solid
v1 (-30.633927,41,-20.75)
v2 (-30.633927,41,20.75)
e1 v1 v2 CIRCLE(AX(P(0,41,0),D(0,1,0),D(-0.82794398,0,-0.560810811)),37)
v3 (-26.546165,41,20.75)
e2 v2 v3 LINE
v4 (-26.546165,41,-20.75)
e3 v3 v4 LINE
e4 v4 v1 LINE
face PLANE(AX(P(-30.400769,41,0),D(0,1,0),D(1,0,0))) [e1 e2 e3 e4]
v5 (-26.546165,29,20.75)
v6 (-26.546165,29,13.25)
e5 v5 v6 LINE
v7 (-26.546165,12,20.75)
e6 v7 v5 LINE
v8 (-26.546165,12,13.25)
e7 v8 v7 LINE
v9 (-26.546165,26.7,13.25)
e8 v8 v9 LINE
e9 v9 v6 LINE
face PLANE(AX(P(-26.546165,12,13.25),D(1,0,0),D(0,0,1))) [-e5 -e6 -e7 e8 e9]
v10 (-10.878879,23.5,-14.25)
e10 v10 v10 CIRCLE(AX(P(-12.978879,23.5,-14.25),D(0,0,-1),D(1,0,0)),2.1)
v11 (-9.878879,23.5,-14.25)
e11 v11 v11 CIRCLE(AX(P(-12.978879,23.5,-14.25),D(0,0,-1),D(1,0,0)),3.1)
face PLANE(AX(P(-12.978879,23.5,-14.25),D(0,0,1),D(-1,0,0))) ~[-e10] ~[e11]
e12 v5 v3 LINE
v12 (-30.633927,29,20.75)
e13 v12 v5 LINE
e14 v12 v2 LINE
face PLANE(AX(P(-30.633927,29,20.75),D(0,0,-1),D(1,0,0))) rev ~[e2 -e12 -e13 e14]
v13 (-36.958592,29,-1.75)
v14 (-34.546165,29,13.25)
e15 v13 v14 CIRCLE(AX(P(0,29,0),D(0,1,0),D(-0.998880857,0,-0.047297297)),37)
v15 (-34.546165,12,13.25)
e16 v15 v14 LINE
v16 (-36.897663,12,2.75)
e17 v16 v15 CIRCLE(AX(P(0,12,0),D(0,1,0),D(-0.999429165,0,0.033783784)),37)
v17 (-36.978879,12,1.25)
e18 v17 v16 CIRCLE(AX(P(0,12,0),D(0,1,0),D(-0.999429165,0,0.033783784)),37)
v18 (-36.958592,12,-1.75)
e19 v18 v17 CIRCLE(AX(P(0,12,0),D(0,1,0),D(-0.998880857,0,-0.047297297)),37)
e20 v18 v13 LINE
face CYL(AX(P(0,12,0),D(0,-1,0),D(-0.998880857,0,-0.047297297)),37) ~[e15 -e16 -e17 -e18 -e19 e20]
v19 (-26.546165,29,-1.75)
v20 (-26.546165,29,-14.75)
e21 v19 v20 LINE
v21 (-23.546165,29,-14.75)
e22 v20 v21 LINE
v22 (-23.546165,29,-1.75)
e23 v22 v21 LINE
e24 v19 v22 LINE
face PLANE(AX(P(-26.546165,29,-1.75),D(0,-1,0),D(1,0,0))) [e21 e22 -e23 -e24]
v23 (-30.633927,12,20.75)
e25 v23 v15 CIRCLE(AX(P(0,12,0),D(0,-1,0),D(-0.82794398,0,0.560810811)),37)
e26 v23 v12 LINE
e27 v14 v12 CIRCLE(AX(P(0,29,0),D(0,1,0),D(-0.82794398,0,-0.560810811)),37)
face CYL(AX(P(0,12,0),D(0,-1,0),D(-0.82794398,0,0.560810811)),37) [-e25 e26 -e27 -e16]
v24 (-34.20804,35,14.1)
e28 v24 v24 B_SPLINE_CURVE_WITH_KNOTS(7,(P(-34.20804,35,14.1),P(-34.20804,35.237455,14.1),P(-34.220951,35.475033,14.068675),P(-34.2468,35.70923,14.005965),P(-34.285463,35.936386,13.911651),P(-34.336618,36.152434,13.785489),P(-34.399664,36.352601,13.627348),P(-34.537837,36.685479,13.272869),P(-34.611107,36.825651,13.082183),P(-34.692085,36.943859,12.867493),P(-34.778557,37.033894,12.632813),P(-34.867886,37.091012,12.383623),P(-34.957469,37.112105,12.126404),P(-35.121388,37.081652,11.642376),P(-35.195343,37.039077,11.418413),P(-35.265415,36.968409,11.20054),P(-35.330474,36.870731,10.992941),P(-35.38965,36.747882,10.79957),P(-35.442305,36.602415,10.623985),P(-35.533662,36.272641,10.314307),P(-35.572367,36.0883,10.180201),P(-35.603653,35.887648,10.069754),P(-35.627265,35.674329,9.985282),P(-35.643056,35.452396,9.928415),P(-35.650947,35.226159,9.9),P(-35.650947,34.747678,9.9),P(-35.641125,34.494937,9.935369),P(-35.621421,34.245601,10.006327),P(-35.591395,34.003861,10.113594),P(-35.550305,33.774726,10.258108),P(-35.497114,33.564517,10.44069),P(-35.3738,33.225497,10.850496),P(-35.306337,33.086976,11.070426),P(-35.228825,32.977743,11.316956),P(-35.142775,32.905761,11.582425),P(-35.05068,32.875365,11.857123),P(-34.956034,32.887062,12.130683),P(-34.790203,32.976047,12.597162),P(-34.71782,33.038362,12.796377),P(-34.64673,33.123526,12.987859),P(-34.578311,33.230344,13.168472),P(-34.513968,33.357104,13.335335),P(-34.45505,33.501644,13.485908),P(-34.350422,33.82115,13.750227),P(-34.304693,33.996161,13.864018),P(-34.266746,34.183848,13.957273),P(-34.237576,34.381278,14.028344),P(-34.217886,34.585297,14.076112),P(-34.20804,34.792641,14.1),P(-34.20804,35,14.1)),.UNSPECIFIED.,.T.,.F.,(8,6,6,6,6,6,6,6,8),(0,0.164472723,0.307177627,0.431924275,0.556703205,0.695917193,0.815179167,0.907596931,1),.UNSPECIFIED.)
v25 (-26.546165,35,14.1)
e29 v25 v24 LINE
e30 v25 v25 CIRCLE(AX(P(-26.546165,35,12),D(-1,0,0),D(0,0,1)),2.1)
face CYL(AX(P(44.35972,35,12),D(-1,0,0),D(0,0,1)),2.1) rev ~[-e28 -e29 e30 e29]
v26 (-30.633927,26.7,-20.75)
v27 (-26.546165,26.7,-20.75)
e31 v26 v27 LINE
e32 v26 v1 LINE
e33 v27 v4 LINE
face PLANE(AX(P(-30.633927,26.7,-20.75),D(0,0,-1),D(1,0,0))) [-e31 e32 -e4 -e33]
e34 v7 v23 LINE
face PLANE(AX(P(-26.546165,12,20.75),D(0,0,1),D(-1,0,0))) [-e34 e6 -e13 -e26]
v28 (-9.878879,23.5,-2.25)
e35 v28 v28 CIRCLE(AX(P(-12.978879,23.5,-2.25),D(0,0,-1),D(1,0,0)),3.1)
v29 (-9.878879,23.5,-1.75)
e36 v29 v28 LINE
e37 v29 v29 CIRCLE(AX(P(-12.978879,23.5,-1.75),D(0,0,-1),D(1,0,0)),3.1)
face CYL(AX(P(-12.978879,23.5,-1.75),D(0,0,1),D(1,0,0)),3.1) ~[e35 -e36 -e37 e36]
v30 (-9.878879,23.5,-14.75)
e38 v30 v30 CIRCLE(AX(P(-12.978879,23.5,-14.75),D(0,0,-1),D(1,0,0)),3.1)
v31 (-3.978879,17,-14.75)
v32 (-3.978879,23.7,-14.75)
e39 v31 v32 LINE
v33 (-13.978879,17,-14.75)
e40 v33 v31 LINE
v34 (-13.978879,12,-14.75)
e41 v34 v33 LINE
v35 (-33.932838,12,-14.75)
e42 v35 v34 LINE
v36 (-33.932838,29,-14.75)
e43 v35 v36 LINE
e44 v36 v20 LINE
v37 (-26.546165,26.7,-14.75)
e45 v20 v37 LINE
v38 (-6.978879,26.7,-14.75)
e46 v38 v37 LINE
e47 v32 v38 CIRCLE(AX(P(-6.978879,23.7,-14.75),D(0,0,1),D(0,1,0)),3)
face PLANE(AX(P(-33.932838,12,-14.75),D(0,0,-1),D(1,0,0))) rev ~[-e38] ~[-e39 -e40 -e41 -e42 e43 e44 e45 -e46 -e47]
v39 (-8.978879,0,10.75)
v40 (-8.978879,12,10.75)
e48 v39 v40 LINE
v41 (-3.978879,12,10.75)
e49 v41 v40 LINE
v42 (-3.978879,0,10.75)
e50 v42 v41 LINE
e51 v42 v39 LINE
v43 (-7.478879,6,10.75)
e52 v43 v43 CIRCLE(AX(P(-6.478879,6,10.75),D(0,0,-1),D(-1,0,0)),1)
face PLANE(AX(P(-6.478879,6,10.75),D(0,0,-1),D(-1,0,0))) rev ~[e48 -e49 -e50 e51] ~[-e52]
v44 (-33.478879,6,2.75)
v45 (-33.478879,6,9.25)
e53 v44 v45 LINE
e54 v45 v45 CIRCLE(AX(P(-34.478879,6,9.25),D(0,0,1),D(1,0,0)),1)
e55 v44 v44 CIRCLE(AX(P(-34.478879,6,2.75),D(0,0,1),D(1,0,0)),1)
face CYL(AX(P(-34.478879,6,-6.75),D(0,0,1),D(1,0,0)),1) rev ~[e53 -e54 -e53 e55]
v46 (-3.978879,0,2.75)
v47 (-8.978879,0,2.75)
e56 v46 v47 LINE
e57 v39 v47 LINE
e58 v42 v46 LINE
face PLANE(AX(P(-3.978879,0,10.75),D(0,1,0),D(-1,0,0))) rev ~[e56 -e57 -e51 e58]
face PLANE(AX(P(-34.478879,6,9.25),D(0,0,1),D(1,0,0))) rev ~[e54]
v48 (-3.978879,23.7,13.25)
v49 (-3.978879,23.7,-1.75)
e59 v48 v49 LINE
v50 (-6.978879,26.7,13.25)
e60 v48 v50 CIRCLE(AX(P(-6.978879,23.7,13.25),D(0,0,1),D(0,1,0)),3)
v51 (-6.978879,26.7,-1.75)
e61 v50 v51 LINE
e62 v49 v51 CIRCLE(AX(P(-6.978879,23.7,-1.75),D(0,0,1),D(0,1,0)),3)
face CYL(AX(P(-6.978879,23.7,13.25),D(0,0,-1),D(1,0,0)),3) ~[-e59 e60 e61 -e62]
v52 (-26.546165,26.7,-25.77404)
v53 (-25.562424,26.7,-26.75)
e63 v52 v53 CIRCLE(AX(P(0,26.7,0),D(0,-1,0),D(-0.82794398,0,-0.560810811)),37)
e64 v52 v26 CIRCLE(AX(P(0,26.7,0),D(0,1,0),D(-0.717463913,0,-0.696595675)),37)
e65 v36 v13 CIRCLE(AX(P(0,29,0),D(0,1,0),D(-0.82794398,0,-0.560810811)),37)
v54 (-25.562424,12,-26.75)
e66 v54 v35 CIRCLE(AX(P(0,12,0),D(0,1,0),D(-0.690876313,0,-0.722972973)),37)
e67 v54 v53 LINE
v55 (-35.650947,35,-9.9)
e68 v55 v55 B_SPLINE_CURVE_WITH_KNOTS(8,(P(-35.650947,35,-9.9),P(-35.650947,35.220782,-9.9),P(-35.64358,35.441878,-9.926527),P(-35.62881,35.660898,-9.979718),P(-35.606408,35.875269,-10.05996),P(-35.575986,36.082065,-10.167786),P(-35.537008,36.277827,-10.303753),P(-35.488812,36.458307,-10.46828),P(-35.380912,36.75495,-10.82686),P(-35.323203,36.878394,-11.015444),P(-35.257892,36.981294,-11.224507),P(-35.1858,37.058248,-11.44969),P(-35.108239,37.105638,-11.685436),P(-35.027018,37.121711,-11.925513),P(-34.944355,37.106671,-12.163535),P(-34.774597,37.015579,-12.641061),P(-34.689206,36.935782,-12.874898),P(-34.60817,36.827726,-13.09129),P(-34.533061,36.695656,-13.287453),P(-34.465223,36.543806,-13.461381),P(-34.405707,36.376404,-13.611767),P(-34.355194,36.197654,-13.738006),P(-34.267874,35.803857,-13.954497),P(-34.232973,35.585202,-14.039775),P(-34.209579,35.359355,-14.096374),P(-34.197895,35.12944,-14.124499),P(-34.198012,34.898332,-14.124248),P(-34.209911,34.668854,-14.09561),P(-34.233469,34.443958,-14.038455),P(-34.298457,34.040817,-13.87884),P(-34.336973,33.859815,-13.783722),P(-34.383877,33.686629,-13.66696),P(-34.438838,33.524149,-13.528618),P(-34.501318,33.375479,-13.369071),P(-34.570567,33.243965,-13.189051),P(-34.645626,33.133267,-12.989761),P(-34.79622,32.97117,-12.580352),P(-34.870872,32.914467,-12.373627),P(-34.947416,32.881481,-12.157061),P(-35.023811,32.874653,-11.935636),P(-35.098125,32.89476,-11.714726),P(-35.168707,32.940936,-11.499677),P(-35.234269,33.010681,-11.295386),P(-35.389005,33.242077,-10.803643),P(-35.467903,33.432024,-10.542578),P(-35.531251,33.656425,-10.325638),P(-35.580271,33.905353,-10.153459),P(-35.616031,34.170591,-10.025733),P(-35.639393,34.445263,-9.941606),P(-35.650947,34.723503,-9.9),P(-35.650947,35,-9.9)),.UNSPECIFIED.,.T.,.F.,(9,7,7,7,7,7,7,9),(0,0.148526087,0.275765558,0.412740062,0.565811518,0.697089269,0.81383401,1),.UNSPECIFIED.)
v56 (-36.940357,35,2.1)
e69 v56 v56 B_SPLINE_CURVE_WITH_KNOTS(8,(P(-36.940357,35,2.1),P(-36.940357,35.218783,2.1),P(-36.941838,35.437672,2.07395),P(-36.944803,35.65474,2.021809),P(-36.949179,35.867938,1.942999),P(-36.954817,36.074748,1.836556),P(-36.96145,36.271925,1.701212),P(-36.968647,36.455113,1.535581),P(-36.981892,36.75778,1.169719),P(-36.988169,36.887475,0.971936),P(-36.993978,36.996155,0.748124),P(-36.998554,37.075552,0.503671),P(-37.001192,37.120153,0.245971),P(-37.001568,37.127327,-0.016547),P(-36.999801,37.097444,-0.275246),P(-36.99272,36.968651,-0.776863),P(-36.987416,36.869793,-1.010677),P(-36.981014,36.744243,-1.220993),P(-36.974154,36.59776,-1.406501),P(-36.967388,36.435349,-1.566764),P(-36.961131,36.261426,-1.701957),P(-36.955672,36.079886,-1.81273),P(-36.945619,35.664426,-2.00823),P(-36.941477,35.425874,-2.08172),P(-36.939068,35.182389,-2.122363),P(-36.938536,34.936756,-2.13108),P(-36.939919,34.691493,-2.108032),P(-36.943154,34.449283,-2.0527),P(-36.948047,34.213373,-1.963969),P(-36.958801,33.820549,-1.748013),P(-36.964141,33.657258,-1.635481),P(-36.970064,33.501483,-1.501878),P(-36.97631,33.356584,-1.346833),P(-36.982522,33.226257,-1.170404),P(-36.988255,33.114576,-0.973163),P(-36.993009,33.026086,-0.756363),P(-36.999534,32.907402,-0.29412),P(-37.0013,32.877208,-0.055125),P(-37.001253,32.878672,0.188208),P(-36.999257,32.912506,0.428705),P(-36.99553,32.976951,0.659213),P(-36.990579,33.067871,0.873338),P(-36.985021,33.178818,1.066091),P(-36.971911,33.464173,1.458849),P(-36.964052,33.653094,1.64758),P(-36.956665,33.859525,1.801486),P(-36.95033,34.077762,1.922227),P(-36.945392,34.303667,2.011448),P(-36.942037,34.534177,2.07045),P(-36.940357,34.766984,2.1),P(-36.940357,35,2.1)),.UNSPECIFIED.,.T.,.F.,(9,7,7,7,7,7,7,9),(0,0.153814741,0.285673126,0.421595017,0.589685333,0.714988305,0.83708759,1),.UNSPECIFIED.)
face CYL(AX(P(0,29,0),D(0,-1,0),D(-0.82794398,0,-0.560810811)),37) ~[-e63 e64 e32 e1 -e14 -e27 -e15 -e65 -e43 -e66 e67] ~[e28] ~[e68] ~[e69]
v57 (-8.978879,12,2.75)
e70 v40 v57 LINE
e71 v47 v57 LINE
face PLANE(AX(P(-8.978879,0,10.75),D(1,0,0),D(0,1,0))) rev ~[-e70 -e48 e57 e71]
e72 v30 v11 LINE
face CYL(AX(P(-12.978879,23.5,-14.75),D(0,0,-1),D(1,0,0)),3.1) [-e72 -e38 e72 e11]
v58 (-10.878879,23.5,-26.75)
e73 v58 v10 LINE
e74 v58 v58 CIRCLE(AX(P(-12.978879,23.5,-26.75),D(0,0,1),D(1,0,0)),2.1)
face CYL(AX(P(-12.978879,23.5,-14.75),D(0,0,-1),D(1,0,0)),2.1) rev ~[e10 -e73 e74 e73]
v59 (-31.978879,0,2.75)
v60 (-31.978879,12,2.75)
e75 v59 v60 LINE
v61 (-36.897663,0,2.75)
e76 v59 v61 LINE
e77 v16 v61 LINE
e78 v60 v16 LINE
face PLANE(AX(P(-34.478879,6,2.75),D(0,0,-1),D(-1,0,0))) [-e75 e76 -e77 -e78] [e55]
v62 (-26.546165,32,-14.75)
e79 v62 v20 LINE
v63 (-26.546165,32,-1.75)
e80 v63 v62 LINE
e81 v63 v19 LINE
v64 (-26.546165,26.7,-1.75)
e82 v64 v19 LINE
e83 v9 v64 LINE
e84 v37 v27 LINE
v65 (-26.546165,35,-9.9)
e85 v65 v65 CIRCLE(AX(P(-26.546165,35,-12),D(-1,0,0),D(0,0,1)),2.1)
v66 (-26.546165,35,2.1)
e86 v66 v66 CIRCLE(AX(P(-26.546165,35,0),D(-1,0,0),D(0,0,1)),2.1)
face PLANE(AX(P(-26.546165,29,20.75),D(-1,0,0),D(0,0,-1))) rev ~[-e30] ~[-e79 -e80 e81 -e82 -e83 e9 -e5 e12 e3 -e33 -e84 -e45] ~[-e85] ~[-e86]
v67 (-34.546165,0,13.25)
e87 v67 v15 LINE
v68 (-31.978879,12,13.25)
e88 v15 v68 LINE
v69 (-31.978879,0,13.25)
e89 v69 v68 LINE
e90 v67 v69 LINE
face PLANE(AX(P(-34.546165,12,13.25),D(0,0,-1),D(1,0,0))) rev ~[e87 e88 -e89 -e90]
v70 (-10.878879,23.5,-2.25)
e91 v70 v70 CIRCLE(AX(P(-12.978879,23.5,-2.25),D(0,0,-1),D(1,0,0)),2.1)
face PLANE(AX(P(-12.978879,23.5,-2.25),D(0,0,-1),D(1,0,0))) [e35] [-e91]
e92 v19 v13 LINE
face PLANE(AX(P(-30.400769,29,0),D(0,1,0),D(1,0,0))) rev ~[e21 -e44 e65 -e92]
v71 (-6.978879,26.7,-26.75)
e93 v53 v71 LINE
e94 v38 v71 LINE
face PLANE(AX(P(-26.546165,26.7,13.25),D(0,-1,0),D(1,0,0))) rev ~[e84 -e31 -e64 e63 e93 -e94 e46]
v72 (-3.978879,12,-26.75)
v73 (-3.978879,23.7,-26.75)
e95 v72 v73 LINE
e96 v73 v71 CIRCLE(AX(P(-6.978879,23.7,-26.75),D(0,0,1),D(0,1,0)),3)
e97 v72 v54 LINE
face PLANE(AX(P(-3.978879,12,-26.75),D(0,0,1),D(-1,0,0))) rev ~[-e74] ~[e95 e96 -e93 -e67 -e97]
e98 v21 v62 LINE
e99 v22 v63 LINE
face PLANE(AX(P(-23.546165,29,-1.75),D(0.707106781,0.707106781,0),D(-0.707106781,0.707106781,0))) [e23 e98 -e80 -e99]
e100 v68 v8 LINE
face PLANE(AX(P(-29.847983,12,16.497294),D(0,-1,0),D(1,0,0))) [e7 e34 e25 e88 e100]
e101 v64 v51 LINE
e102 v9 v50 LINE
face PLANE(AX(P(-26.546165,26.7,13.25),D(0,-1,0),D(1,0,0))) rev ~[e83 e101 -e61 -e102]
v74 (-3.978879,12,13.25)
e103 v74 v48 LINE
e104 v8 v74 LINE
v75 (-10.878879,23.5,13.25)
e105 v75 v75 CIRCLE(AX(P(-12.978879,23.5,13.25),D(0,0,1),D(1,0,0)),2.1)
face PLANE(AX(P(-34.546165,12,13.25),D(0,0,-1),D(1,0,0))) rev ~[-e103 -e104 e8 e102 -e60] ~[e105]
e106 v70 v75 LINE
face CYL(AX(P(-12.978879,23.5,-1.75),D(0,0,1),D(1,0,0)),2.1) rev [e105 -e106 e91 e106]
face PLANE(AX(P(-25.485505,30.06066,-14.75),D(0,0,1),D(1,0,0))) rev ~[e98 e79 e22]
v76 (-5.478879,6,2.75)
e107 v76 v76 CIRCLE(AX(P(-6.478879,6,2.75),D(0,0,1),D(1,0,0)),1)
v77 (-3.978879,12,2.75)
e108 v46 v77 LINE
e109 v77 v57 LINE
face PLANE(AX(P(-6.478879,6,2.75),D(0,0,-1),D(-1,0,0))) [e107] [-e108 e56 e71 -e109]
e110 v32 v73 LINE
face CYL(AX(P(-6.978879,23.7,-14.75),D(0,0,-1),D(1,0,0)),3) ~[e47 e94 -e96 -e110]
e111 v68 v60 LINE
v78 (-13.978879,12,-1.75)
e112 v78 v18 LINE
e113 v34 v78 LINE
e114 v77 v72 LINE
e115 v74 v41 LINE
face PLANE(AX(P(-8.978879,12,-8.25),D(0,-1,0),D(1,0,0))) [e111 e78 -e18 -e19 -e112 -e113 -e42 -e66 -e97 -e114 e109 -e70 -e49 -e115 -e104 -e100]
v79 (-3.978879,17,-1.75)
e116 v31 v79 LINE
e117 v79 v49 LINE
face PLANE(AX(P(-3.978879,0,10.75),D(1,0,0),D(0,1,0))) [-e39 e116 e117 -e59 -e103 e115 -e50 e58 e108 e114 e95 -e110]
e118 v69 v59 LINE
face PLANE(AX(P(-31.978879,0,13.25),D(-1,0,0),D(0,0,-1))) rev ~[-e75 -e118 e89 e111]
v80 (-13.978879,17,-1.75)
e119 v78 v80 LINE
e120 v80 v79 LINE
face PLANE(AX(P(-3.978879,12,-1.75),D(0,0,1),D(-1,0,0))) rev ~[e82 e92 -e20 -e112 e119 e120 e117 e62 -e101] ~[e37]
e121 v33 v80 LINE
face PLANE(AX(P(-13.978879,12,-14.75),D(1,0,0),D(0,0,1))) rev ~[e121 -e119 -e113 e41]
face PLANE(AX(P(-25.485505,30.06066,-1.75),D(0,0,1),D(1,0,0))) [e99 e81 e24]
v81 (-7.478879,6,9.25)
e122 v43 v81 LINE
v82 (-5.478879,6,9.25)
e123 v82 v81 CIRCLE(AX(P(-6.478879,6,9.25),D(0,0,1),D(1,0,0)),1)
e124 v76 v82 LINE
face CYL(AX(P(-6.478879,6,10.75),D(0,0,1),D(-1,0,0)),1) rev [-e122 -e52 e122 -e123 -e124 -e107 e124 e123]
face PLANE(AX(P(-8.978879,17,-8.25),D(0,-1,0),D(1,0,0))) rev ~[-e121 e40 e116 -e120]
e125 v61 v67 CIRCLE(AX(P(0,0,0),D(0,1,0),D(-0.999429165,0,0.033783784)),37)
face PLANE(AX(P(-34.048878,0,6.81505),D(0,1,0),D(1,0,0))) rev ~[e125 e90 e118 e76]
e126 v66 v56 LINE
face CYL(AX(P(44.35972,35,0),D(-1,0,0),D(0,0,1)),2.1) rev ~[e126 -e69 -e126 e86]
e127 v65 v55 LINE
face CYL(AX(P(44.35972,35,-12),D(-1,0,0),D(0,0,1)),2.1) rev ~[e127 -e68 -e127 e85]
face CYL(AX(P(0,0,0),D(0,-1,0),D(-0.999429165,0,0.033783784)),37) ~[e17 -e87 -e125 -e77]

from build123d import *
from build123d.topology import SkipClean

# Parameters (mm, degrees)
BOSS_EXTRUDE1_DEPTH       = 12
SKETCH1_W                 = 5
SKETCH1_H                 = 8
BOSS_EXTRUDE1_2_DEPTH     = 12
BOSS_EXTRUDE2_DEPTH       = 17
F_2_0MM_DOWEL_HOLE1_D     = 2
F_2_0MM_DOWEL_HOLE1_DEPTH = 8
BOSS_EXTRUDE6_START       = -17
BOSS_EXTRUDE6_DEPTH       = 17
BOSS_EXTRUDE8_DEPTH       = 12
CUT_EXTRUDE2_REACH        = 70.191
SKETCH5_R                 = 2.1
CUT_EXTRUDE3_REACH        = 70.191
SKETCH19_W                = 22.567285658
SKETCH19_H                = 2.3
CUT_EXTRUDE5_START        = -2.3
CUT_EXTRUDE5_DEPTH        = 2.3
SKETCH21_W                = 10
SKETCH21_H                = 13
BOSS_EXTRUDE10_DEPTH      = 5
FILLET3_R                 = 3
SKETCH23_R                = 3.1
SKETCH23_R_2              = 2.1
BOSS_EXTRUDE11_DEPTH      = 0.5
CUT_EXTRUDE6_START        = -1.5
SKETCH24_W                = 5
SKETCH24_H                = 12
SKETCH24_R                = 1
CUT_EXTRUDE6_DEPTH        = 1.5
BOSS_EXTRUDE12_START      = -9.5
SKETCH24_2_W              = 5
SKETCH24_2_H              = 12
SKETCH24_2_R              = 1
BOSS_EXTRUDE12_DEPTH      = 1.5
F_2_0MM_DOWEL_HOLE2_D     = 4.2
BOSS_EXTRUDE13_START      = 17
BOSS_EXTRUDE13_DEPTH      = 17
BOSS_EXTRUDE14_DEPTH      = 13


with BuildPart() as part:
    # Sketch1 → Boss-Extrude1 (new body)
    with BuildSketch(Plane(origin=(0, 0, 0), x_dir=(1, 0, 0), z_dir=(0, 1, 0))):
        with BuildLine():
            Line((-31.978879107, -1.25), (-36.978879107, -1.25))
            ThreePointArc((-36.978879107, -1.25), (-36.262349279, -7.351328095), (-34.546164765, -13.25))
            Line((-34.546164765, -13.25), (-31.978879107, -13.25))
            Line((-31.978879107, -13.25), (-31.978879107, -1.25))
        make_face()
    extrude(amount=BOSS_EXTRUDE1_DEPTH)



with BuildPart() as body_2:
    # Sketch1 → Boss-Extrude1 2 (new body)
    with BuildSketch(Plane(origin=(0, 0, 0), x_dir=(1, 0, 0), z_dir=(0, 1, 0))):
        with Locations((-6.478879107, -5.25)):
            Rectangle(SKETCH1_W, SKETCH1_H)
    extrude(amount=BOSS_EXTRUDE1_2_DEPTH)


with BuildPart() as part_1:
    add(part.part)

    add(body_2.part)  # Boss-Extrude2 merges body 2
    # Sketch2 → Boss-Extrude2 (add)
    with BuildSketch(Plane(origin=(0, 12, 0), x_dir=(1, 0, 0), z_dir=(0, 1, 0))):
        with BuildLine():
            Line((-3.978879107, -13.25), (-3.978879107, 1.75))
            Line((-3.978879107, 1.75), (-36.958591694, 1.75))
            ThreePointArc((-36.958591694, 1.75), (-36.530570062, -5.875155396), (-34.546164765, -13.25))
            Line((-34.546164765, -13.25), (-3.978879107, -13.25))
        make_face()
    extrude(amount=BOSS_EXTRUDE2_DEPTH)

    # Ø2.0mm Dowel Hole1
    with Locations(Plane(origin=(0, 0, 1.25), x_dir=(-1, 0, 0), z_dir=(0, 0, -1))):
        with Locations((6.478879107, 6), (34.478879107, 6)):
            Hole(F_2_0MM_DOWEL_HOLE1_D / 2, depth=F_2_0MM_DOWEL_HOLE1_DEPTH)



with BuildPart() as body_2_2:
    # Sketch13 → Boss-Extrude6 (new body)
    with BuildSketch(Plane(origin=(0, 29, 0), x_dir=(1, 0, 0), z_dir=(0, 1, 0)).offset(BOSS_EXTRUDE6_START)):
        with BuildLine():
            Line((-33.932838078, 14.75), (-24.958591694, 14.75))
            Line((-24.958591694, 14.75), (-3.978879107, 14.75))
            Line((-3.978879107, 14.75), (-3.978879107, 26.75))
            Line((-3.978879107, 26.75), (-25.562423594, 26.75))
            ThreePointArc((-25.562423594, 26.75), (-30.346689117, 21.167863843), (-33.932838078, 14.75))
        make_face()
    extrude(amount=BOSS_EXTRUDE6_DEPTH)


with BuildPart() as part_2:
    add(part_1.part)

    add(body_2_2.part)  # Boss-Extrude8 merges body 2 2
    # Sketch17 → Boss-Extrude8 (add)
    with BuildSketch(Plane(origin=(0, 29, 0), x_dir=(1, 0, 0), z_dir=(0, 1, 0))):
        with BuildLine():
            Line((-26.546164765, -20.75), (-26.546164765, 20.75))
            Line((-26.546164765, 20.75), (-30.63392727, 20.75))
            ThreePointArc((-30.63392727, 20.75), (-37, 0), (-30.63392727, -20.75))
            Line((-30.63392727, -20.75), (-26.546164765, -20.75))
        make_face()
    extrude(amount=BOSS_EXTRUDE8_DEPTH)

    # Cut-Extrude2: up to this face of the body (flat: up to its plane)
    cut_extrude2_end = Plane(part_2.part.faces().sort_by_distance((-14.77065135, 20.5, -26.75))[0])
    # Sketch5 → Cut-Extrude2 (cut, up to the picked face)
    with BuildSketch(Plane.XY.offset(13.25), mode=Mode.PRIVATE) as cut_extrude2_sk1:
        with Locations((-12.978879107, 23.5)):
            Circle(SKETCH5_R)
    cut_extrude2_tool1 = split(extrude(cut_extrude2_sk1.sketch, amount=-CUT_EXTRUDE2_REACH, mode=Mode.PRIVATE), bisect_by=cut_extrude2_end, keep=Keep.BOTH, mode=Mode.PRIVATE)
    add(cut_extrude2_tool1.solids().sort_by(Axis((-12.978879, 23.5, 13.25), (0, 0, -1)))[0], mode=Mode.SUBTRACT)

    # Cut-Extrude3: up to this face of the body (flat: up to its plane)
    cut_extrude3_end = Plane(part_2.part.faces().sort_by_distance((-14.840961104, 20.382278978, -26.75))[0])
    # Sketch19 → Cut-Extrude3 (cut, up to the picked face)
    with BuildSketch(Plane.XY.offset(13.25), mode=Mode.PRIVATE) as cut_extrude3_sk1:
        with Locations((-15.262521936, 27.85)):
            Rectangle(SKETCH19_W, SKETCH19_H)
    cut_extrude3_tool1 = split(extrude(cut_extrude3_sk1.sketch, amount=-CUT_EXTRUDE3_REACH, mode=Mode.PRIVATE), bisect_by=cut_extrude3_end, keep=Keep.BOTH, mode=Mode.PRIVATE)
    add(cut_extrude3_tool1.solids().sort_by(Axis((-15.262522, 27.85, 13.25), (0, 0, -1)))[0], mode=Mode.SUBTRACT)

    # Sketch22 → Cut-Extrude5 (cut)
    with BuildSketch(Plane(origin=(0, 29, 0), x_dir=(1, 0, 0), z_dir=(0, 1, 0)).offset(CUT_EXTRUDE5_START)):
        with BuildLine():
            Line((-26.546164765, 20.75), (-26.546164765, 25.774039968))
            ThreePointArc((-26.546164765, 25.774039968), (-28.700191214, 23.351638578), (-30.63392727, 20.75))
            Line((-30.63392727, 20.75), (-26.546164765, 20.75))
        make_face()
    extrude(amount=CUT_EXTRUDE5_DEPTH, mode=Mode.SUBTRACT)

    # Sketch21 → Boss-Extrude10 (add)
    with BuildSketch(Plane.XZ.offset(-12)):
        with Locations((-8.978879107, -8.25)):
            Rectangle(SKETCH21_W, SKETCH21_H)
    extrude(amount=-BOSS_EXTRUDE10_DEPTH)

    # Fillet3
    fillet3_edges = [part_2.edges().sort_by_distance(p)[0] for p in [
        (-3.978879107, 26.7, -20.75),
        (-3.978879107, 26.7, 5.75),
    ]]
    fillet(fillet3_edges, radius=FILLET3_R)

    # Sketch23 → Boss-Extrude11 (add)
    with BuildSketch(Plane(origin=(0, 0, -1.75), x_dir=(-1, 0, 0), z_dir=(0, 0, -1))):
        with Locations(Location((12.978879107, 23.5, 0), (0, 0, 180))):
            Circle(SKETCH23_R)
        with Locations(Location((12.978879107, 23.5, 0), (0, 0, 180))):
            Circle(SKETCH23_R_2, mode=Mode.SUBTRACT)
    boss_extrude11 = extrude(amount=BOSS_EXTRUDE11_DEPTH)

    # Mirror4: Boss-Extrude11 across plane
    add(boss_extrude11.mirror(Plane.XY.offset(-8.25)))

    # Sketch24 → Cut-Extrude6 (cut)
    # profile 1 of 2: a face of its own
    with BuildSketch(Plane(origin=(0, 0, 1.25), x_dir=(-1, 0, 0), z_dir=(0, 0, -1)).offset(CUT_EXTRUDE6_START)):
        with Locations((34.478879107, 6)):
            Rectangle(SKETCH24_W, SKETCH24_H)
        with Locations((34.478879107, 6)):
            Circle(SKETCH24_R, mode=Mode.SUBTRACT)
    # profile 2 of 2: a face of its own
    with BuildSketch(Plane(origin=(0, 0, 1.25), x_dir=(-1, 0, 0), z_dir=(0, 0, -1)).offset(CUT_EXTRUDE6_START)):
        with Locations((6.478879107, 6)):
            Rectangle(SKETCH24_W, SKETCH24_H)
        with Locations((6.478879107, 6)):
            Circle(SKETCH24_R, mode=Mode.SUBTRACT)
    extrude(amount=CUT_EXTRUDE6_DEPTH, mode=Mode.SUBTRACT)

    # Sketch24<2> → Boss-Extrude12 (add)
    with BuildSketch(Plane(origin=(0, 0, 1.25), x_dir=(-1, 0, 0), z_dir=(0, 0, -1)).offset(BOSS_EXTRUDE12_START)):
        with Locations((6.478879107, 6)):
            Rectangle(SKETCH24_2_W, SKETCH24_2_H)
        with Locations((6.478879107, 6)):
            Circle(SKETCH24_2_R, mode=Mode.SUBTRACT)
    extrude(amount=BOSS_EXTRUDE12_DEPTH)

    # Ø2.0mm Dowel Hole2 (through all)
    with Locations(Plane(origin=(-26.546164765, 0, 0), x_dir=(0, 0, -1), z_dir=(1, 0, 0))):
        with Locations((-12, 35), (0, 35), (12, 35)):
            Hole(F_2_0MM_DOWEL_HOLE2_D / 2)

    # Sketch27 → Boss-Extrude13 (add)
    with SkipClean():  # the faces are left unmerged after this step: merging them gives an invalid solid
        with BuildSketch(Plane.XZ.offset(-29).offset(BOSS_EXTRUDE13_START)):
            with BuildLine():
                Line((-34.546164765, 13.25), (-26.546164765, 13.25))
                Line((-26.546164765, 13.25), (-26.546164765, 20.75))
                Line((-26.546164765, 20.75), (-30.63392727, 20.75))
                ThreePointArc((-30.63392727, 20.75), (-32.805084963, 17.112171123), (-34.546164765, 13.25))
            make_face()
        extrude(amount=-BOSS_EXTRUDE13_DEPTH)

    # Sketch28 → Boss-Extrude14 (add)
    with SkipClean():  # the faces are left unmerged after this step: merging them gives an invalid solid
        with BuildSketch(Plane(origin=(0, 0, -1.75), x_dir=(-1, 0, 0), z_dir=(0, 0, -1))):
            Polygon((26.546164765, 29), (23.546164765, 29), (26.546164765, 32), align=None)
        extrude(amount=BOSS_EXTRUDE14_DEPTH)


solid = part_2.part
